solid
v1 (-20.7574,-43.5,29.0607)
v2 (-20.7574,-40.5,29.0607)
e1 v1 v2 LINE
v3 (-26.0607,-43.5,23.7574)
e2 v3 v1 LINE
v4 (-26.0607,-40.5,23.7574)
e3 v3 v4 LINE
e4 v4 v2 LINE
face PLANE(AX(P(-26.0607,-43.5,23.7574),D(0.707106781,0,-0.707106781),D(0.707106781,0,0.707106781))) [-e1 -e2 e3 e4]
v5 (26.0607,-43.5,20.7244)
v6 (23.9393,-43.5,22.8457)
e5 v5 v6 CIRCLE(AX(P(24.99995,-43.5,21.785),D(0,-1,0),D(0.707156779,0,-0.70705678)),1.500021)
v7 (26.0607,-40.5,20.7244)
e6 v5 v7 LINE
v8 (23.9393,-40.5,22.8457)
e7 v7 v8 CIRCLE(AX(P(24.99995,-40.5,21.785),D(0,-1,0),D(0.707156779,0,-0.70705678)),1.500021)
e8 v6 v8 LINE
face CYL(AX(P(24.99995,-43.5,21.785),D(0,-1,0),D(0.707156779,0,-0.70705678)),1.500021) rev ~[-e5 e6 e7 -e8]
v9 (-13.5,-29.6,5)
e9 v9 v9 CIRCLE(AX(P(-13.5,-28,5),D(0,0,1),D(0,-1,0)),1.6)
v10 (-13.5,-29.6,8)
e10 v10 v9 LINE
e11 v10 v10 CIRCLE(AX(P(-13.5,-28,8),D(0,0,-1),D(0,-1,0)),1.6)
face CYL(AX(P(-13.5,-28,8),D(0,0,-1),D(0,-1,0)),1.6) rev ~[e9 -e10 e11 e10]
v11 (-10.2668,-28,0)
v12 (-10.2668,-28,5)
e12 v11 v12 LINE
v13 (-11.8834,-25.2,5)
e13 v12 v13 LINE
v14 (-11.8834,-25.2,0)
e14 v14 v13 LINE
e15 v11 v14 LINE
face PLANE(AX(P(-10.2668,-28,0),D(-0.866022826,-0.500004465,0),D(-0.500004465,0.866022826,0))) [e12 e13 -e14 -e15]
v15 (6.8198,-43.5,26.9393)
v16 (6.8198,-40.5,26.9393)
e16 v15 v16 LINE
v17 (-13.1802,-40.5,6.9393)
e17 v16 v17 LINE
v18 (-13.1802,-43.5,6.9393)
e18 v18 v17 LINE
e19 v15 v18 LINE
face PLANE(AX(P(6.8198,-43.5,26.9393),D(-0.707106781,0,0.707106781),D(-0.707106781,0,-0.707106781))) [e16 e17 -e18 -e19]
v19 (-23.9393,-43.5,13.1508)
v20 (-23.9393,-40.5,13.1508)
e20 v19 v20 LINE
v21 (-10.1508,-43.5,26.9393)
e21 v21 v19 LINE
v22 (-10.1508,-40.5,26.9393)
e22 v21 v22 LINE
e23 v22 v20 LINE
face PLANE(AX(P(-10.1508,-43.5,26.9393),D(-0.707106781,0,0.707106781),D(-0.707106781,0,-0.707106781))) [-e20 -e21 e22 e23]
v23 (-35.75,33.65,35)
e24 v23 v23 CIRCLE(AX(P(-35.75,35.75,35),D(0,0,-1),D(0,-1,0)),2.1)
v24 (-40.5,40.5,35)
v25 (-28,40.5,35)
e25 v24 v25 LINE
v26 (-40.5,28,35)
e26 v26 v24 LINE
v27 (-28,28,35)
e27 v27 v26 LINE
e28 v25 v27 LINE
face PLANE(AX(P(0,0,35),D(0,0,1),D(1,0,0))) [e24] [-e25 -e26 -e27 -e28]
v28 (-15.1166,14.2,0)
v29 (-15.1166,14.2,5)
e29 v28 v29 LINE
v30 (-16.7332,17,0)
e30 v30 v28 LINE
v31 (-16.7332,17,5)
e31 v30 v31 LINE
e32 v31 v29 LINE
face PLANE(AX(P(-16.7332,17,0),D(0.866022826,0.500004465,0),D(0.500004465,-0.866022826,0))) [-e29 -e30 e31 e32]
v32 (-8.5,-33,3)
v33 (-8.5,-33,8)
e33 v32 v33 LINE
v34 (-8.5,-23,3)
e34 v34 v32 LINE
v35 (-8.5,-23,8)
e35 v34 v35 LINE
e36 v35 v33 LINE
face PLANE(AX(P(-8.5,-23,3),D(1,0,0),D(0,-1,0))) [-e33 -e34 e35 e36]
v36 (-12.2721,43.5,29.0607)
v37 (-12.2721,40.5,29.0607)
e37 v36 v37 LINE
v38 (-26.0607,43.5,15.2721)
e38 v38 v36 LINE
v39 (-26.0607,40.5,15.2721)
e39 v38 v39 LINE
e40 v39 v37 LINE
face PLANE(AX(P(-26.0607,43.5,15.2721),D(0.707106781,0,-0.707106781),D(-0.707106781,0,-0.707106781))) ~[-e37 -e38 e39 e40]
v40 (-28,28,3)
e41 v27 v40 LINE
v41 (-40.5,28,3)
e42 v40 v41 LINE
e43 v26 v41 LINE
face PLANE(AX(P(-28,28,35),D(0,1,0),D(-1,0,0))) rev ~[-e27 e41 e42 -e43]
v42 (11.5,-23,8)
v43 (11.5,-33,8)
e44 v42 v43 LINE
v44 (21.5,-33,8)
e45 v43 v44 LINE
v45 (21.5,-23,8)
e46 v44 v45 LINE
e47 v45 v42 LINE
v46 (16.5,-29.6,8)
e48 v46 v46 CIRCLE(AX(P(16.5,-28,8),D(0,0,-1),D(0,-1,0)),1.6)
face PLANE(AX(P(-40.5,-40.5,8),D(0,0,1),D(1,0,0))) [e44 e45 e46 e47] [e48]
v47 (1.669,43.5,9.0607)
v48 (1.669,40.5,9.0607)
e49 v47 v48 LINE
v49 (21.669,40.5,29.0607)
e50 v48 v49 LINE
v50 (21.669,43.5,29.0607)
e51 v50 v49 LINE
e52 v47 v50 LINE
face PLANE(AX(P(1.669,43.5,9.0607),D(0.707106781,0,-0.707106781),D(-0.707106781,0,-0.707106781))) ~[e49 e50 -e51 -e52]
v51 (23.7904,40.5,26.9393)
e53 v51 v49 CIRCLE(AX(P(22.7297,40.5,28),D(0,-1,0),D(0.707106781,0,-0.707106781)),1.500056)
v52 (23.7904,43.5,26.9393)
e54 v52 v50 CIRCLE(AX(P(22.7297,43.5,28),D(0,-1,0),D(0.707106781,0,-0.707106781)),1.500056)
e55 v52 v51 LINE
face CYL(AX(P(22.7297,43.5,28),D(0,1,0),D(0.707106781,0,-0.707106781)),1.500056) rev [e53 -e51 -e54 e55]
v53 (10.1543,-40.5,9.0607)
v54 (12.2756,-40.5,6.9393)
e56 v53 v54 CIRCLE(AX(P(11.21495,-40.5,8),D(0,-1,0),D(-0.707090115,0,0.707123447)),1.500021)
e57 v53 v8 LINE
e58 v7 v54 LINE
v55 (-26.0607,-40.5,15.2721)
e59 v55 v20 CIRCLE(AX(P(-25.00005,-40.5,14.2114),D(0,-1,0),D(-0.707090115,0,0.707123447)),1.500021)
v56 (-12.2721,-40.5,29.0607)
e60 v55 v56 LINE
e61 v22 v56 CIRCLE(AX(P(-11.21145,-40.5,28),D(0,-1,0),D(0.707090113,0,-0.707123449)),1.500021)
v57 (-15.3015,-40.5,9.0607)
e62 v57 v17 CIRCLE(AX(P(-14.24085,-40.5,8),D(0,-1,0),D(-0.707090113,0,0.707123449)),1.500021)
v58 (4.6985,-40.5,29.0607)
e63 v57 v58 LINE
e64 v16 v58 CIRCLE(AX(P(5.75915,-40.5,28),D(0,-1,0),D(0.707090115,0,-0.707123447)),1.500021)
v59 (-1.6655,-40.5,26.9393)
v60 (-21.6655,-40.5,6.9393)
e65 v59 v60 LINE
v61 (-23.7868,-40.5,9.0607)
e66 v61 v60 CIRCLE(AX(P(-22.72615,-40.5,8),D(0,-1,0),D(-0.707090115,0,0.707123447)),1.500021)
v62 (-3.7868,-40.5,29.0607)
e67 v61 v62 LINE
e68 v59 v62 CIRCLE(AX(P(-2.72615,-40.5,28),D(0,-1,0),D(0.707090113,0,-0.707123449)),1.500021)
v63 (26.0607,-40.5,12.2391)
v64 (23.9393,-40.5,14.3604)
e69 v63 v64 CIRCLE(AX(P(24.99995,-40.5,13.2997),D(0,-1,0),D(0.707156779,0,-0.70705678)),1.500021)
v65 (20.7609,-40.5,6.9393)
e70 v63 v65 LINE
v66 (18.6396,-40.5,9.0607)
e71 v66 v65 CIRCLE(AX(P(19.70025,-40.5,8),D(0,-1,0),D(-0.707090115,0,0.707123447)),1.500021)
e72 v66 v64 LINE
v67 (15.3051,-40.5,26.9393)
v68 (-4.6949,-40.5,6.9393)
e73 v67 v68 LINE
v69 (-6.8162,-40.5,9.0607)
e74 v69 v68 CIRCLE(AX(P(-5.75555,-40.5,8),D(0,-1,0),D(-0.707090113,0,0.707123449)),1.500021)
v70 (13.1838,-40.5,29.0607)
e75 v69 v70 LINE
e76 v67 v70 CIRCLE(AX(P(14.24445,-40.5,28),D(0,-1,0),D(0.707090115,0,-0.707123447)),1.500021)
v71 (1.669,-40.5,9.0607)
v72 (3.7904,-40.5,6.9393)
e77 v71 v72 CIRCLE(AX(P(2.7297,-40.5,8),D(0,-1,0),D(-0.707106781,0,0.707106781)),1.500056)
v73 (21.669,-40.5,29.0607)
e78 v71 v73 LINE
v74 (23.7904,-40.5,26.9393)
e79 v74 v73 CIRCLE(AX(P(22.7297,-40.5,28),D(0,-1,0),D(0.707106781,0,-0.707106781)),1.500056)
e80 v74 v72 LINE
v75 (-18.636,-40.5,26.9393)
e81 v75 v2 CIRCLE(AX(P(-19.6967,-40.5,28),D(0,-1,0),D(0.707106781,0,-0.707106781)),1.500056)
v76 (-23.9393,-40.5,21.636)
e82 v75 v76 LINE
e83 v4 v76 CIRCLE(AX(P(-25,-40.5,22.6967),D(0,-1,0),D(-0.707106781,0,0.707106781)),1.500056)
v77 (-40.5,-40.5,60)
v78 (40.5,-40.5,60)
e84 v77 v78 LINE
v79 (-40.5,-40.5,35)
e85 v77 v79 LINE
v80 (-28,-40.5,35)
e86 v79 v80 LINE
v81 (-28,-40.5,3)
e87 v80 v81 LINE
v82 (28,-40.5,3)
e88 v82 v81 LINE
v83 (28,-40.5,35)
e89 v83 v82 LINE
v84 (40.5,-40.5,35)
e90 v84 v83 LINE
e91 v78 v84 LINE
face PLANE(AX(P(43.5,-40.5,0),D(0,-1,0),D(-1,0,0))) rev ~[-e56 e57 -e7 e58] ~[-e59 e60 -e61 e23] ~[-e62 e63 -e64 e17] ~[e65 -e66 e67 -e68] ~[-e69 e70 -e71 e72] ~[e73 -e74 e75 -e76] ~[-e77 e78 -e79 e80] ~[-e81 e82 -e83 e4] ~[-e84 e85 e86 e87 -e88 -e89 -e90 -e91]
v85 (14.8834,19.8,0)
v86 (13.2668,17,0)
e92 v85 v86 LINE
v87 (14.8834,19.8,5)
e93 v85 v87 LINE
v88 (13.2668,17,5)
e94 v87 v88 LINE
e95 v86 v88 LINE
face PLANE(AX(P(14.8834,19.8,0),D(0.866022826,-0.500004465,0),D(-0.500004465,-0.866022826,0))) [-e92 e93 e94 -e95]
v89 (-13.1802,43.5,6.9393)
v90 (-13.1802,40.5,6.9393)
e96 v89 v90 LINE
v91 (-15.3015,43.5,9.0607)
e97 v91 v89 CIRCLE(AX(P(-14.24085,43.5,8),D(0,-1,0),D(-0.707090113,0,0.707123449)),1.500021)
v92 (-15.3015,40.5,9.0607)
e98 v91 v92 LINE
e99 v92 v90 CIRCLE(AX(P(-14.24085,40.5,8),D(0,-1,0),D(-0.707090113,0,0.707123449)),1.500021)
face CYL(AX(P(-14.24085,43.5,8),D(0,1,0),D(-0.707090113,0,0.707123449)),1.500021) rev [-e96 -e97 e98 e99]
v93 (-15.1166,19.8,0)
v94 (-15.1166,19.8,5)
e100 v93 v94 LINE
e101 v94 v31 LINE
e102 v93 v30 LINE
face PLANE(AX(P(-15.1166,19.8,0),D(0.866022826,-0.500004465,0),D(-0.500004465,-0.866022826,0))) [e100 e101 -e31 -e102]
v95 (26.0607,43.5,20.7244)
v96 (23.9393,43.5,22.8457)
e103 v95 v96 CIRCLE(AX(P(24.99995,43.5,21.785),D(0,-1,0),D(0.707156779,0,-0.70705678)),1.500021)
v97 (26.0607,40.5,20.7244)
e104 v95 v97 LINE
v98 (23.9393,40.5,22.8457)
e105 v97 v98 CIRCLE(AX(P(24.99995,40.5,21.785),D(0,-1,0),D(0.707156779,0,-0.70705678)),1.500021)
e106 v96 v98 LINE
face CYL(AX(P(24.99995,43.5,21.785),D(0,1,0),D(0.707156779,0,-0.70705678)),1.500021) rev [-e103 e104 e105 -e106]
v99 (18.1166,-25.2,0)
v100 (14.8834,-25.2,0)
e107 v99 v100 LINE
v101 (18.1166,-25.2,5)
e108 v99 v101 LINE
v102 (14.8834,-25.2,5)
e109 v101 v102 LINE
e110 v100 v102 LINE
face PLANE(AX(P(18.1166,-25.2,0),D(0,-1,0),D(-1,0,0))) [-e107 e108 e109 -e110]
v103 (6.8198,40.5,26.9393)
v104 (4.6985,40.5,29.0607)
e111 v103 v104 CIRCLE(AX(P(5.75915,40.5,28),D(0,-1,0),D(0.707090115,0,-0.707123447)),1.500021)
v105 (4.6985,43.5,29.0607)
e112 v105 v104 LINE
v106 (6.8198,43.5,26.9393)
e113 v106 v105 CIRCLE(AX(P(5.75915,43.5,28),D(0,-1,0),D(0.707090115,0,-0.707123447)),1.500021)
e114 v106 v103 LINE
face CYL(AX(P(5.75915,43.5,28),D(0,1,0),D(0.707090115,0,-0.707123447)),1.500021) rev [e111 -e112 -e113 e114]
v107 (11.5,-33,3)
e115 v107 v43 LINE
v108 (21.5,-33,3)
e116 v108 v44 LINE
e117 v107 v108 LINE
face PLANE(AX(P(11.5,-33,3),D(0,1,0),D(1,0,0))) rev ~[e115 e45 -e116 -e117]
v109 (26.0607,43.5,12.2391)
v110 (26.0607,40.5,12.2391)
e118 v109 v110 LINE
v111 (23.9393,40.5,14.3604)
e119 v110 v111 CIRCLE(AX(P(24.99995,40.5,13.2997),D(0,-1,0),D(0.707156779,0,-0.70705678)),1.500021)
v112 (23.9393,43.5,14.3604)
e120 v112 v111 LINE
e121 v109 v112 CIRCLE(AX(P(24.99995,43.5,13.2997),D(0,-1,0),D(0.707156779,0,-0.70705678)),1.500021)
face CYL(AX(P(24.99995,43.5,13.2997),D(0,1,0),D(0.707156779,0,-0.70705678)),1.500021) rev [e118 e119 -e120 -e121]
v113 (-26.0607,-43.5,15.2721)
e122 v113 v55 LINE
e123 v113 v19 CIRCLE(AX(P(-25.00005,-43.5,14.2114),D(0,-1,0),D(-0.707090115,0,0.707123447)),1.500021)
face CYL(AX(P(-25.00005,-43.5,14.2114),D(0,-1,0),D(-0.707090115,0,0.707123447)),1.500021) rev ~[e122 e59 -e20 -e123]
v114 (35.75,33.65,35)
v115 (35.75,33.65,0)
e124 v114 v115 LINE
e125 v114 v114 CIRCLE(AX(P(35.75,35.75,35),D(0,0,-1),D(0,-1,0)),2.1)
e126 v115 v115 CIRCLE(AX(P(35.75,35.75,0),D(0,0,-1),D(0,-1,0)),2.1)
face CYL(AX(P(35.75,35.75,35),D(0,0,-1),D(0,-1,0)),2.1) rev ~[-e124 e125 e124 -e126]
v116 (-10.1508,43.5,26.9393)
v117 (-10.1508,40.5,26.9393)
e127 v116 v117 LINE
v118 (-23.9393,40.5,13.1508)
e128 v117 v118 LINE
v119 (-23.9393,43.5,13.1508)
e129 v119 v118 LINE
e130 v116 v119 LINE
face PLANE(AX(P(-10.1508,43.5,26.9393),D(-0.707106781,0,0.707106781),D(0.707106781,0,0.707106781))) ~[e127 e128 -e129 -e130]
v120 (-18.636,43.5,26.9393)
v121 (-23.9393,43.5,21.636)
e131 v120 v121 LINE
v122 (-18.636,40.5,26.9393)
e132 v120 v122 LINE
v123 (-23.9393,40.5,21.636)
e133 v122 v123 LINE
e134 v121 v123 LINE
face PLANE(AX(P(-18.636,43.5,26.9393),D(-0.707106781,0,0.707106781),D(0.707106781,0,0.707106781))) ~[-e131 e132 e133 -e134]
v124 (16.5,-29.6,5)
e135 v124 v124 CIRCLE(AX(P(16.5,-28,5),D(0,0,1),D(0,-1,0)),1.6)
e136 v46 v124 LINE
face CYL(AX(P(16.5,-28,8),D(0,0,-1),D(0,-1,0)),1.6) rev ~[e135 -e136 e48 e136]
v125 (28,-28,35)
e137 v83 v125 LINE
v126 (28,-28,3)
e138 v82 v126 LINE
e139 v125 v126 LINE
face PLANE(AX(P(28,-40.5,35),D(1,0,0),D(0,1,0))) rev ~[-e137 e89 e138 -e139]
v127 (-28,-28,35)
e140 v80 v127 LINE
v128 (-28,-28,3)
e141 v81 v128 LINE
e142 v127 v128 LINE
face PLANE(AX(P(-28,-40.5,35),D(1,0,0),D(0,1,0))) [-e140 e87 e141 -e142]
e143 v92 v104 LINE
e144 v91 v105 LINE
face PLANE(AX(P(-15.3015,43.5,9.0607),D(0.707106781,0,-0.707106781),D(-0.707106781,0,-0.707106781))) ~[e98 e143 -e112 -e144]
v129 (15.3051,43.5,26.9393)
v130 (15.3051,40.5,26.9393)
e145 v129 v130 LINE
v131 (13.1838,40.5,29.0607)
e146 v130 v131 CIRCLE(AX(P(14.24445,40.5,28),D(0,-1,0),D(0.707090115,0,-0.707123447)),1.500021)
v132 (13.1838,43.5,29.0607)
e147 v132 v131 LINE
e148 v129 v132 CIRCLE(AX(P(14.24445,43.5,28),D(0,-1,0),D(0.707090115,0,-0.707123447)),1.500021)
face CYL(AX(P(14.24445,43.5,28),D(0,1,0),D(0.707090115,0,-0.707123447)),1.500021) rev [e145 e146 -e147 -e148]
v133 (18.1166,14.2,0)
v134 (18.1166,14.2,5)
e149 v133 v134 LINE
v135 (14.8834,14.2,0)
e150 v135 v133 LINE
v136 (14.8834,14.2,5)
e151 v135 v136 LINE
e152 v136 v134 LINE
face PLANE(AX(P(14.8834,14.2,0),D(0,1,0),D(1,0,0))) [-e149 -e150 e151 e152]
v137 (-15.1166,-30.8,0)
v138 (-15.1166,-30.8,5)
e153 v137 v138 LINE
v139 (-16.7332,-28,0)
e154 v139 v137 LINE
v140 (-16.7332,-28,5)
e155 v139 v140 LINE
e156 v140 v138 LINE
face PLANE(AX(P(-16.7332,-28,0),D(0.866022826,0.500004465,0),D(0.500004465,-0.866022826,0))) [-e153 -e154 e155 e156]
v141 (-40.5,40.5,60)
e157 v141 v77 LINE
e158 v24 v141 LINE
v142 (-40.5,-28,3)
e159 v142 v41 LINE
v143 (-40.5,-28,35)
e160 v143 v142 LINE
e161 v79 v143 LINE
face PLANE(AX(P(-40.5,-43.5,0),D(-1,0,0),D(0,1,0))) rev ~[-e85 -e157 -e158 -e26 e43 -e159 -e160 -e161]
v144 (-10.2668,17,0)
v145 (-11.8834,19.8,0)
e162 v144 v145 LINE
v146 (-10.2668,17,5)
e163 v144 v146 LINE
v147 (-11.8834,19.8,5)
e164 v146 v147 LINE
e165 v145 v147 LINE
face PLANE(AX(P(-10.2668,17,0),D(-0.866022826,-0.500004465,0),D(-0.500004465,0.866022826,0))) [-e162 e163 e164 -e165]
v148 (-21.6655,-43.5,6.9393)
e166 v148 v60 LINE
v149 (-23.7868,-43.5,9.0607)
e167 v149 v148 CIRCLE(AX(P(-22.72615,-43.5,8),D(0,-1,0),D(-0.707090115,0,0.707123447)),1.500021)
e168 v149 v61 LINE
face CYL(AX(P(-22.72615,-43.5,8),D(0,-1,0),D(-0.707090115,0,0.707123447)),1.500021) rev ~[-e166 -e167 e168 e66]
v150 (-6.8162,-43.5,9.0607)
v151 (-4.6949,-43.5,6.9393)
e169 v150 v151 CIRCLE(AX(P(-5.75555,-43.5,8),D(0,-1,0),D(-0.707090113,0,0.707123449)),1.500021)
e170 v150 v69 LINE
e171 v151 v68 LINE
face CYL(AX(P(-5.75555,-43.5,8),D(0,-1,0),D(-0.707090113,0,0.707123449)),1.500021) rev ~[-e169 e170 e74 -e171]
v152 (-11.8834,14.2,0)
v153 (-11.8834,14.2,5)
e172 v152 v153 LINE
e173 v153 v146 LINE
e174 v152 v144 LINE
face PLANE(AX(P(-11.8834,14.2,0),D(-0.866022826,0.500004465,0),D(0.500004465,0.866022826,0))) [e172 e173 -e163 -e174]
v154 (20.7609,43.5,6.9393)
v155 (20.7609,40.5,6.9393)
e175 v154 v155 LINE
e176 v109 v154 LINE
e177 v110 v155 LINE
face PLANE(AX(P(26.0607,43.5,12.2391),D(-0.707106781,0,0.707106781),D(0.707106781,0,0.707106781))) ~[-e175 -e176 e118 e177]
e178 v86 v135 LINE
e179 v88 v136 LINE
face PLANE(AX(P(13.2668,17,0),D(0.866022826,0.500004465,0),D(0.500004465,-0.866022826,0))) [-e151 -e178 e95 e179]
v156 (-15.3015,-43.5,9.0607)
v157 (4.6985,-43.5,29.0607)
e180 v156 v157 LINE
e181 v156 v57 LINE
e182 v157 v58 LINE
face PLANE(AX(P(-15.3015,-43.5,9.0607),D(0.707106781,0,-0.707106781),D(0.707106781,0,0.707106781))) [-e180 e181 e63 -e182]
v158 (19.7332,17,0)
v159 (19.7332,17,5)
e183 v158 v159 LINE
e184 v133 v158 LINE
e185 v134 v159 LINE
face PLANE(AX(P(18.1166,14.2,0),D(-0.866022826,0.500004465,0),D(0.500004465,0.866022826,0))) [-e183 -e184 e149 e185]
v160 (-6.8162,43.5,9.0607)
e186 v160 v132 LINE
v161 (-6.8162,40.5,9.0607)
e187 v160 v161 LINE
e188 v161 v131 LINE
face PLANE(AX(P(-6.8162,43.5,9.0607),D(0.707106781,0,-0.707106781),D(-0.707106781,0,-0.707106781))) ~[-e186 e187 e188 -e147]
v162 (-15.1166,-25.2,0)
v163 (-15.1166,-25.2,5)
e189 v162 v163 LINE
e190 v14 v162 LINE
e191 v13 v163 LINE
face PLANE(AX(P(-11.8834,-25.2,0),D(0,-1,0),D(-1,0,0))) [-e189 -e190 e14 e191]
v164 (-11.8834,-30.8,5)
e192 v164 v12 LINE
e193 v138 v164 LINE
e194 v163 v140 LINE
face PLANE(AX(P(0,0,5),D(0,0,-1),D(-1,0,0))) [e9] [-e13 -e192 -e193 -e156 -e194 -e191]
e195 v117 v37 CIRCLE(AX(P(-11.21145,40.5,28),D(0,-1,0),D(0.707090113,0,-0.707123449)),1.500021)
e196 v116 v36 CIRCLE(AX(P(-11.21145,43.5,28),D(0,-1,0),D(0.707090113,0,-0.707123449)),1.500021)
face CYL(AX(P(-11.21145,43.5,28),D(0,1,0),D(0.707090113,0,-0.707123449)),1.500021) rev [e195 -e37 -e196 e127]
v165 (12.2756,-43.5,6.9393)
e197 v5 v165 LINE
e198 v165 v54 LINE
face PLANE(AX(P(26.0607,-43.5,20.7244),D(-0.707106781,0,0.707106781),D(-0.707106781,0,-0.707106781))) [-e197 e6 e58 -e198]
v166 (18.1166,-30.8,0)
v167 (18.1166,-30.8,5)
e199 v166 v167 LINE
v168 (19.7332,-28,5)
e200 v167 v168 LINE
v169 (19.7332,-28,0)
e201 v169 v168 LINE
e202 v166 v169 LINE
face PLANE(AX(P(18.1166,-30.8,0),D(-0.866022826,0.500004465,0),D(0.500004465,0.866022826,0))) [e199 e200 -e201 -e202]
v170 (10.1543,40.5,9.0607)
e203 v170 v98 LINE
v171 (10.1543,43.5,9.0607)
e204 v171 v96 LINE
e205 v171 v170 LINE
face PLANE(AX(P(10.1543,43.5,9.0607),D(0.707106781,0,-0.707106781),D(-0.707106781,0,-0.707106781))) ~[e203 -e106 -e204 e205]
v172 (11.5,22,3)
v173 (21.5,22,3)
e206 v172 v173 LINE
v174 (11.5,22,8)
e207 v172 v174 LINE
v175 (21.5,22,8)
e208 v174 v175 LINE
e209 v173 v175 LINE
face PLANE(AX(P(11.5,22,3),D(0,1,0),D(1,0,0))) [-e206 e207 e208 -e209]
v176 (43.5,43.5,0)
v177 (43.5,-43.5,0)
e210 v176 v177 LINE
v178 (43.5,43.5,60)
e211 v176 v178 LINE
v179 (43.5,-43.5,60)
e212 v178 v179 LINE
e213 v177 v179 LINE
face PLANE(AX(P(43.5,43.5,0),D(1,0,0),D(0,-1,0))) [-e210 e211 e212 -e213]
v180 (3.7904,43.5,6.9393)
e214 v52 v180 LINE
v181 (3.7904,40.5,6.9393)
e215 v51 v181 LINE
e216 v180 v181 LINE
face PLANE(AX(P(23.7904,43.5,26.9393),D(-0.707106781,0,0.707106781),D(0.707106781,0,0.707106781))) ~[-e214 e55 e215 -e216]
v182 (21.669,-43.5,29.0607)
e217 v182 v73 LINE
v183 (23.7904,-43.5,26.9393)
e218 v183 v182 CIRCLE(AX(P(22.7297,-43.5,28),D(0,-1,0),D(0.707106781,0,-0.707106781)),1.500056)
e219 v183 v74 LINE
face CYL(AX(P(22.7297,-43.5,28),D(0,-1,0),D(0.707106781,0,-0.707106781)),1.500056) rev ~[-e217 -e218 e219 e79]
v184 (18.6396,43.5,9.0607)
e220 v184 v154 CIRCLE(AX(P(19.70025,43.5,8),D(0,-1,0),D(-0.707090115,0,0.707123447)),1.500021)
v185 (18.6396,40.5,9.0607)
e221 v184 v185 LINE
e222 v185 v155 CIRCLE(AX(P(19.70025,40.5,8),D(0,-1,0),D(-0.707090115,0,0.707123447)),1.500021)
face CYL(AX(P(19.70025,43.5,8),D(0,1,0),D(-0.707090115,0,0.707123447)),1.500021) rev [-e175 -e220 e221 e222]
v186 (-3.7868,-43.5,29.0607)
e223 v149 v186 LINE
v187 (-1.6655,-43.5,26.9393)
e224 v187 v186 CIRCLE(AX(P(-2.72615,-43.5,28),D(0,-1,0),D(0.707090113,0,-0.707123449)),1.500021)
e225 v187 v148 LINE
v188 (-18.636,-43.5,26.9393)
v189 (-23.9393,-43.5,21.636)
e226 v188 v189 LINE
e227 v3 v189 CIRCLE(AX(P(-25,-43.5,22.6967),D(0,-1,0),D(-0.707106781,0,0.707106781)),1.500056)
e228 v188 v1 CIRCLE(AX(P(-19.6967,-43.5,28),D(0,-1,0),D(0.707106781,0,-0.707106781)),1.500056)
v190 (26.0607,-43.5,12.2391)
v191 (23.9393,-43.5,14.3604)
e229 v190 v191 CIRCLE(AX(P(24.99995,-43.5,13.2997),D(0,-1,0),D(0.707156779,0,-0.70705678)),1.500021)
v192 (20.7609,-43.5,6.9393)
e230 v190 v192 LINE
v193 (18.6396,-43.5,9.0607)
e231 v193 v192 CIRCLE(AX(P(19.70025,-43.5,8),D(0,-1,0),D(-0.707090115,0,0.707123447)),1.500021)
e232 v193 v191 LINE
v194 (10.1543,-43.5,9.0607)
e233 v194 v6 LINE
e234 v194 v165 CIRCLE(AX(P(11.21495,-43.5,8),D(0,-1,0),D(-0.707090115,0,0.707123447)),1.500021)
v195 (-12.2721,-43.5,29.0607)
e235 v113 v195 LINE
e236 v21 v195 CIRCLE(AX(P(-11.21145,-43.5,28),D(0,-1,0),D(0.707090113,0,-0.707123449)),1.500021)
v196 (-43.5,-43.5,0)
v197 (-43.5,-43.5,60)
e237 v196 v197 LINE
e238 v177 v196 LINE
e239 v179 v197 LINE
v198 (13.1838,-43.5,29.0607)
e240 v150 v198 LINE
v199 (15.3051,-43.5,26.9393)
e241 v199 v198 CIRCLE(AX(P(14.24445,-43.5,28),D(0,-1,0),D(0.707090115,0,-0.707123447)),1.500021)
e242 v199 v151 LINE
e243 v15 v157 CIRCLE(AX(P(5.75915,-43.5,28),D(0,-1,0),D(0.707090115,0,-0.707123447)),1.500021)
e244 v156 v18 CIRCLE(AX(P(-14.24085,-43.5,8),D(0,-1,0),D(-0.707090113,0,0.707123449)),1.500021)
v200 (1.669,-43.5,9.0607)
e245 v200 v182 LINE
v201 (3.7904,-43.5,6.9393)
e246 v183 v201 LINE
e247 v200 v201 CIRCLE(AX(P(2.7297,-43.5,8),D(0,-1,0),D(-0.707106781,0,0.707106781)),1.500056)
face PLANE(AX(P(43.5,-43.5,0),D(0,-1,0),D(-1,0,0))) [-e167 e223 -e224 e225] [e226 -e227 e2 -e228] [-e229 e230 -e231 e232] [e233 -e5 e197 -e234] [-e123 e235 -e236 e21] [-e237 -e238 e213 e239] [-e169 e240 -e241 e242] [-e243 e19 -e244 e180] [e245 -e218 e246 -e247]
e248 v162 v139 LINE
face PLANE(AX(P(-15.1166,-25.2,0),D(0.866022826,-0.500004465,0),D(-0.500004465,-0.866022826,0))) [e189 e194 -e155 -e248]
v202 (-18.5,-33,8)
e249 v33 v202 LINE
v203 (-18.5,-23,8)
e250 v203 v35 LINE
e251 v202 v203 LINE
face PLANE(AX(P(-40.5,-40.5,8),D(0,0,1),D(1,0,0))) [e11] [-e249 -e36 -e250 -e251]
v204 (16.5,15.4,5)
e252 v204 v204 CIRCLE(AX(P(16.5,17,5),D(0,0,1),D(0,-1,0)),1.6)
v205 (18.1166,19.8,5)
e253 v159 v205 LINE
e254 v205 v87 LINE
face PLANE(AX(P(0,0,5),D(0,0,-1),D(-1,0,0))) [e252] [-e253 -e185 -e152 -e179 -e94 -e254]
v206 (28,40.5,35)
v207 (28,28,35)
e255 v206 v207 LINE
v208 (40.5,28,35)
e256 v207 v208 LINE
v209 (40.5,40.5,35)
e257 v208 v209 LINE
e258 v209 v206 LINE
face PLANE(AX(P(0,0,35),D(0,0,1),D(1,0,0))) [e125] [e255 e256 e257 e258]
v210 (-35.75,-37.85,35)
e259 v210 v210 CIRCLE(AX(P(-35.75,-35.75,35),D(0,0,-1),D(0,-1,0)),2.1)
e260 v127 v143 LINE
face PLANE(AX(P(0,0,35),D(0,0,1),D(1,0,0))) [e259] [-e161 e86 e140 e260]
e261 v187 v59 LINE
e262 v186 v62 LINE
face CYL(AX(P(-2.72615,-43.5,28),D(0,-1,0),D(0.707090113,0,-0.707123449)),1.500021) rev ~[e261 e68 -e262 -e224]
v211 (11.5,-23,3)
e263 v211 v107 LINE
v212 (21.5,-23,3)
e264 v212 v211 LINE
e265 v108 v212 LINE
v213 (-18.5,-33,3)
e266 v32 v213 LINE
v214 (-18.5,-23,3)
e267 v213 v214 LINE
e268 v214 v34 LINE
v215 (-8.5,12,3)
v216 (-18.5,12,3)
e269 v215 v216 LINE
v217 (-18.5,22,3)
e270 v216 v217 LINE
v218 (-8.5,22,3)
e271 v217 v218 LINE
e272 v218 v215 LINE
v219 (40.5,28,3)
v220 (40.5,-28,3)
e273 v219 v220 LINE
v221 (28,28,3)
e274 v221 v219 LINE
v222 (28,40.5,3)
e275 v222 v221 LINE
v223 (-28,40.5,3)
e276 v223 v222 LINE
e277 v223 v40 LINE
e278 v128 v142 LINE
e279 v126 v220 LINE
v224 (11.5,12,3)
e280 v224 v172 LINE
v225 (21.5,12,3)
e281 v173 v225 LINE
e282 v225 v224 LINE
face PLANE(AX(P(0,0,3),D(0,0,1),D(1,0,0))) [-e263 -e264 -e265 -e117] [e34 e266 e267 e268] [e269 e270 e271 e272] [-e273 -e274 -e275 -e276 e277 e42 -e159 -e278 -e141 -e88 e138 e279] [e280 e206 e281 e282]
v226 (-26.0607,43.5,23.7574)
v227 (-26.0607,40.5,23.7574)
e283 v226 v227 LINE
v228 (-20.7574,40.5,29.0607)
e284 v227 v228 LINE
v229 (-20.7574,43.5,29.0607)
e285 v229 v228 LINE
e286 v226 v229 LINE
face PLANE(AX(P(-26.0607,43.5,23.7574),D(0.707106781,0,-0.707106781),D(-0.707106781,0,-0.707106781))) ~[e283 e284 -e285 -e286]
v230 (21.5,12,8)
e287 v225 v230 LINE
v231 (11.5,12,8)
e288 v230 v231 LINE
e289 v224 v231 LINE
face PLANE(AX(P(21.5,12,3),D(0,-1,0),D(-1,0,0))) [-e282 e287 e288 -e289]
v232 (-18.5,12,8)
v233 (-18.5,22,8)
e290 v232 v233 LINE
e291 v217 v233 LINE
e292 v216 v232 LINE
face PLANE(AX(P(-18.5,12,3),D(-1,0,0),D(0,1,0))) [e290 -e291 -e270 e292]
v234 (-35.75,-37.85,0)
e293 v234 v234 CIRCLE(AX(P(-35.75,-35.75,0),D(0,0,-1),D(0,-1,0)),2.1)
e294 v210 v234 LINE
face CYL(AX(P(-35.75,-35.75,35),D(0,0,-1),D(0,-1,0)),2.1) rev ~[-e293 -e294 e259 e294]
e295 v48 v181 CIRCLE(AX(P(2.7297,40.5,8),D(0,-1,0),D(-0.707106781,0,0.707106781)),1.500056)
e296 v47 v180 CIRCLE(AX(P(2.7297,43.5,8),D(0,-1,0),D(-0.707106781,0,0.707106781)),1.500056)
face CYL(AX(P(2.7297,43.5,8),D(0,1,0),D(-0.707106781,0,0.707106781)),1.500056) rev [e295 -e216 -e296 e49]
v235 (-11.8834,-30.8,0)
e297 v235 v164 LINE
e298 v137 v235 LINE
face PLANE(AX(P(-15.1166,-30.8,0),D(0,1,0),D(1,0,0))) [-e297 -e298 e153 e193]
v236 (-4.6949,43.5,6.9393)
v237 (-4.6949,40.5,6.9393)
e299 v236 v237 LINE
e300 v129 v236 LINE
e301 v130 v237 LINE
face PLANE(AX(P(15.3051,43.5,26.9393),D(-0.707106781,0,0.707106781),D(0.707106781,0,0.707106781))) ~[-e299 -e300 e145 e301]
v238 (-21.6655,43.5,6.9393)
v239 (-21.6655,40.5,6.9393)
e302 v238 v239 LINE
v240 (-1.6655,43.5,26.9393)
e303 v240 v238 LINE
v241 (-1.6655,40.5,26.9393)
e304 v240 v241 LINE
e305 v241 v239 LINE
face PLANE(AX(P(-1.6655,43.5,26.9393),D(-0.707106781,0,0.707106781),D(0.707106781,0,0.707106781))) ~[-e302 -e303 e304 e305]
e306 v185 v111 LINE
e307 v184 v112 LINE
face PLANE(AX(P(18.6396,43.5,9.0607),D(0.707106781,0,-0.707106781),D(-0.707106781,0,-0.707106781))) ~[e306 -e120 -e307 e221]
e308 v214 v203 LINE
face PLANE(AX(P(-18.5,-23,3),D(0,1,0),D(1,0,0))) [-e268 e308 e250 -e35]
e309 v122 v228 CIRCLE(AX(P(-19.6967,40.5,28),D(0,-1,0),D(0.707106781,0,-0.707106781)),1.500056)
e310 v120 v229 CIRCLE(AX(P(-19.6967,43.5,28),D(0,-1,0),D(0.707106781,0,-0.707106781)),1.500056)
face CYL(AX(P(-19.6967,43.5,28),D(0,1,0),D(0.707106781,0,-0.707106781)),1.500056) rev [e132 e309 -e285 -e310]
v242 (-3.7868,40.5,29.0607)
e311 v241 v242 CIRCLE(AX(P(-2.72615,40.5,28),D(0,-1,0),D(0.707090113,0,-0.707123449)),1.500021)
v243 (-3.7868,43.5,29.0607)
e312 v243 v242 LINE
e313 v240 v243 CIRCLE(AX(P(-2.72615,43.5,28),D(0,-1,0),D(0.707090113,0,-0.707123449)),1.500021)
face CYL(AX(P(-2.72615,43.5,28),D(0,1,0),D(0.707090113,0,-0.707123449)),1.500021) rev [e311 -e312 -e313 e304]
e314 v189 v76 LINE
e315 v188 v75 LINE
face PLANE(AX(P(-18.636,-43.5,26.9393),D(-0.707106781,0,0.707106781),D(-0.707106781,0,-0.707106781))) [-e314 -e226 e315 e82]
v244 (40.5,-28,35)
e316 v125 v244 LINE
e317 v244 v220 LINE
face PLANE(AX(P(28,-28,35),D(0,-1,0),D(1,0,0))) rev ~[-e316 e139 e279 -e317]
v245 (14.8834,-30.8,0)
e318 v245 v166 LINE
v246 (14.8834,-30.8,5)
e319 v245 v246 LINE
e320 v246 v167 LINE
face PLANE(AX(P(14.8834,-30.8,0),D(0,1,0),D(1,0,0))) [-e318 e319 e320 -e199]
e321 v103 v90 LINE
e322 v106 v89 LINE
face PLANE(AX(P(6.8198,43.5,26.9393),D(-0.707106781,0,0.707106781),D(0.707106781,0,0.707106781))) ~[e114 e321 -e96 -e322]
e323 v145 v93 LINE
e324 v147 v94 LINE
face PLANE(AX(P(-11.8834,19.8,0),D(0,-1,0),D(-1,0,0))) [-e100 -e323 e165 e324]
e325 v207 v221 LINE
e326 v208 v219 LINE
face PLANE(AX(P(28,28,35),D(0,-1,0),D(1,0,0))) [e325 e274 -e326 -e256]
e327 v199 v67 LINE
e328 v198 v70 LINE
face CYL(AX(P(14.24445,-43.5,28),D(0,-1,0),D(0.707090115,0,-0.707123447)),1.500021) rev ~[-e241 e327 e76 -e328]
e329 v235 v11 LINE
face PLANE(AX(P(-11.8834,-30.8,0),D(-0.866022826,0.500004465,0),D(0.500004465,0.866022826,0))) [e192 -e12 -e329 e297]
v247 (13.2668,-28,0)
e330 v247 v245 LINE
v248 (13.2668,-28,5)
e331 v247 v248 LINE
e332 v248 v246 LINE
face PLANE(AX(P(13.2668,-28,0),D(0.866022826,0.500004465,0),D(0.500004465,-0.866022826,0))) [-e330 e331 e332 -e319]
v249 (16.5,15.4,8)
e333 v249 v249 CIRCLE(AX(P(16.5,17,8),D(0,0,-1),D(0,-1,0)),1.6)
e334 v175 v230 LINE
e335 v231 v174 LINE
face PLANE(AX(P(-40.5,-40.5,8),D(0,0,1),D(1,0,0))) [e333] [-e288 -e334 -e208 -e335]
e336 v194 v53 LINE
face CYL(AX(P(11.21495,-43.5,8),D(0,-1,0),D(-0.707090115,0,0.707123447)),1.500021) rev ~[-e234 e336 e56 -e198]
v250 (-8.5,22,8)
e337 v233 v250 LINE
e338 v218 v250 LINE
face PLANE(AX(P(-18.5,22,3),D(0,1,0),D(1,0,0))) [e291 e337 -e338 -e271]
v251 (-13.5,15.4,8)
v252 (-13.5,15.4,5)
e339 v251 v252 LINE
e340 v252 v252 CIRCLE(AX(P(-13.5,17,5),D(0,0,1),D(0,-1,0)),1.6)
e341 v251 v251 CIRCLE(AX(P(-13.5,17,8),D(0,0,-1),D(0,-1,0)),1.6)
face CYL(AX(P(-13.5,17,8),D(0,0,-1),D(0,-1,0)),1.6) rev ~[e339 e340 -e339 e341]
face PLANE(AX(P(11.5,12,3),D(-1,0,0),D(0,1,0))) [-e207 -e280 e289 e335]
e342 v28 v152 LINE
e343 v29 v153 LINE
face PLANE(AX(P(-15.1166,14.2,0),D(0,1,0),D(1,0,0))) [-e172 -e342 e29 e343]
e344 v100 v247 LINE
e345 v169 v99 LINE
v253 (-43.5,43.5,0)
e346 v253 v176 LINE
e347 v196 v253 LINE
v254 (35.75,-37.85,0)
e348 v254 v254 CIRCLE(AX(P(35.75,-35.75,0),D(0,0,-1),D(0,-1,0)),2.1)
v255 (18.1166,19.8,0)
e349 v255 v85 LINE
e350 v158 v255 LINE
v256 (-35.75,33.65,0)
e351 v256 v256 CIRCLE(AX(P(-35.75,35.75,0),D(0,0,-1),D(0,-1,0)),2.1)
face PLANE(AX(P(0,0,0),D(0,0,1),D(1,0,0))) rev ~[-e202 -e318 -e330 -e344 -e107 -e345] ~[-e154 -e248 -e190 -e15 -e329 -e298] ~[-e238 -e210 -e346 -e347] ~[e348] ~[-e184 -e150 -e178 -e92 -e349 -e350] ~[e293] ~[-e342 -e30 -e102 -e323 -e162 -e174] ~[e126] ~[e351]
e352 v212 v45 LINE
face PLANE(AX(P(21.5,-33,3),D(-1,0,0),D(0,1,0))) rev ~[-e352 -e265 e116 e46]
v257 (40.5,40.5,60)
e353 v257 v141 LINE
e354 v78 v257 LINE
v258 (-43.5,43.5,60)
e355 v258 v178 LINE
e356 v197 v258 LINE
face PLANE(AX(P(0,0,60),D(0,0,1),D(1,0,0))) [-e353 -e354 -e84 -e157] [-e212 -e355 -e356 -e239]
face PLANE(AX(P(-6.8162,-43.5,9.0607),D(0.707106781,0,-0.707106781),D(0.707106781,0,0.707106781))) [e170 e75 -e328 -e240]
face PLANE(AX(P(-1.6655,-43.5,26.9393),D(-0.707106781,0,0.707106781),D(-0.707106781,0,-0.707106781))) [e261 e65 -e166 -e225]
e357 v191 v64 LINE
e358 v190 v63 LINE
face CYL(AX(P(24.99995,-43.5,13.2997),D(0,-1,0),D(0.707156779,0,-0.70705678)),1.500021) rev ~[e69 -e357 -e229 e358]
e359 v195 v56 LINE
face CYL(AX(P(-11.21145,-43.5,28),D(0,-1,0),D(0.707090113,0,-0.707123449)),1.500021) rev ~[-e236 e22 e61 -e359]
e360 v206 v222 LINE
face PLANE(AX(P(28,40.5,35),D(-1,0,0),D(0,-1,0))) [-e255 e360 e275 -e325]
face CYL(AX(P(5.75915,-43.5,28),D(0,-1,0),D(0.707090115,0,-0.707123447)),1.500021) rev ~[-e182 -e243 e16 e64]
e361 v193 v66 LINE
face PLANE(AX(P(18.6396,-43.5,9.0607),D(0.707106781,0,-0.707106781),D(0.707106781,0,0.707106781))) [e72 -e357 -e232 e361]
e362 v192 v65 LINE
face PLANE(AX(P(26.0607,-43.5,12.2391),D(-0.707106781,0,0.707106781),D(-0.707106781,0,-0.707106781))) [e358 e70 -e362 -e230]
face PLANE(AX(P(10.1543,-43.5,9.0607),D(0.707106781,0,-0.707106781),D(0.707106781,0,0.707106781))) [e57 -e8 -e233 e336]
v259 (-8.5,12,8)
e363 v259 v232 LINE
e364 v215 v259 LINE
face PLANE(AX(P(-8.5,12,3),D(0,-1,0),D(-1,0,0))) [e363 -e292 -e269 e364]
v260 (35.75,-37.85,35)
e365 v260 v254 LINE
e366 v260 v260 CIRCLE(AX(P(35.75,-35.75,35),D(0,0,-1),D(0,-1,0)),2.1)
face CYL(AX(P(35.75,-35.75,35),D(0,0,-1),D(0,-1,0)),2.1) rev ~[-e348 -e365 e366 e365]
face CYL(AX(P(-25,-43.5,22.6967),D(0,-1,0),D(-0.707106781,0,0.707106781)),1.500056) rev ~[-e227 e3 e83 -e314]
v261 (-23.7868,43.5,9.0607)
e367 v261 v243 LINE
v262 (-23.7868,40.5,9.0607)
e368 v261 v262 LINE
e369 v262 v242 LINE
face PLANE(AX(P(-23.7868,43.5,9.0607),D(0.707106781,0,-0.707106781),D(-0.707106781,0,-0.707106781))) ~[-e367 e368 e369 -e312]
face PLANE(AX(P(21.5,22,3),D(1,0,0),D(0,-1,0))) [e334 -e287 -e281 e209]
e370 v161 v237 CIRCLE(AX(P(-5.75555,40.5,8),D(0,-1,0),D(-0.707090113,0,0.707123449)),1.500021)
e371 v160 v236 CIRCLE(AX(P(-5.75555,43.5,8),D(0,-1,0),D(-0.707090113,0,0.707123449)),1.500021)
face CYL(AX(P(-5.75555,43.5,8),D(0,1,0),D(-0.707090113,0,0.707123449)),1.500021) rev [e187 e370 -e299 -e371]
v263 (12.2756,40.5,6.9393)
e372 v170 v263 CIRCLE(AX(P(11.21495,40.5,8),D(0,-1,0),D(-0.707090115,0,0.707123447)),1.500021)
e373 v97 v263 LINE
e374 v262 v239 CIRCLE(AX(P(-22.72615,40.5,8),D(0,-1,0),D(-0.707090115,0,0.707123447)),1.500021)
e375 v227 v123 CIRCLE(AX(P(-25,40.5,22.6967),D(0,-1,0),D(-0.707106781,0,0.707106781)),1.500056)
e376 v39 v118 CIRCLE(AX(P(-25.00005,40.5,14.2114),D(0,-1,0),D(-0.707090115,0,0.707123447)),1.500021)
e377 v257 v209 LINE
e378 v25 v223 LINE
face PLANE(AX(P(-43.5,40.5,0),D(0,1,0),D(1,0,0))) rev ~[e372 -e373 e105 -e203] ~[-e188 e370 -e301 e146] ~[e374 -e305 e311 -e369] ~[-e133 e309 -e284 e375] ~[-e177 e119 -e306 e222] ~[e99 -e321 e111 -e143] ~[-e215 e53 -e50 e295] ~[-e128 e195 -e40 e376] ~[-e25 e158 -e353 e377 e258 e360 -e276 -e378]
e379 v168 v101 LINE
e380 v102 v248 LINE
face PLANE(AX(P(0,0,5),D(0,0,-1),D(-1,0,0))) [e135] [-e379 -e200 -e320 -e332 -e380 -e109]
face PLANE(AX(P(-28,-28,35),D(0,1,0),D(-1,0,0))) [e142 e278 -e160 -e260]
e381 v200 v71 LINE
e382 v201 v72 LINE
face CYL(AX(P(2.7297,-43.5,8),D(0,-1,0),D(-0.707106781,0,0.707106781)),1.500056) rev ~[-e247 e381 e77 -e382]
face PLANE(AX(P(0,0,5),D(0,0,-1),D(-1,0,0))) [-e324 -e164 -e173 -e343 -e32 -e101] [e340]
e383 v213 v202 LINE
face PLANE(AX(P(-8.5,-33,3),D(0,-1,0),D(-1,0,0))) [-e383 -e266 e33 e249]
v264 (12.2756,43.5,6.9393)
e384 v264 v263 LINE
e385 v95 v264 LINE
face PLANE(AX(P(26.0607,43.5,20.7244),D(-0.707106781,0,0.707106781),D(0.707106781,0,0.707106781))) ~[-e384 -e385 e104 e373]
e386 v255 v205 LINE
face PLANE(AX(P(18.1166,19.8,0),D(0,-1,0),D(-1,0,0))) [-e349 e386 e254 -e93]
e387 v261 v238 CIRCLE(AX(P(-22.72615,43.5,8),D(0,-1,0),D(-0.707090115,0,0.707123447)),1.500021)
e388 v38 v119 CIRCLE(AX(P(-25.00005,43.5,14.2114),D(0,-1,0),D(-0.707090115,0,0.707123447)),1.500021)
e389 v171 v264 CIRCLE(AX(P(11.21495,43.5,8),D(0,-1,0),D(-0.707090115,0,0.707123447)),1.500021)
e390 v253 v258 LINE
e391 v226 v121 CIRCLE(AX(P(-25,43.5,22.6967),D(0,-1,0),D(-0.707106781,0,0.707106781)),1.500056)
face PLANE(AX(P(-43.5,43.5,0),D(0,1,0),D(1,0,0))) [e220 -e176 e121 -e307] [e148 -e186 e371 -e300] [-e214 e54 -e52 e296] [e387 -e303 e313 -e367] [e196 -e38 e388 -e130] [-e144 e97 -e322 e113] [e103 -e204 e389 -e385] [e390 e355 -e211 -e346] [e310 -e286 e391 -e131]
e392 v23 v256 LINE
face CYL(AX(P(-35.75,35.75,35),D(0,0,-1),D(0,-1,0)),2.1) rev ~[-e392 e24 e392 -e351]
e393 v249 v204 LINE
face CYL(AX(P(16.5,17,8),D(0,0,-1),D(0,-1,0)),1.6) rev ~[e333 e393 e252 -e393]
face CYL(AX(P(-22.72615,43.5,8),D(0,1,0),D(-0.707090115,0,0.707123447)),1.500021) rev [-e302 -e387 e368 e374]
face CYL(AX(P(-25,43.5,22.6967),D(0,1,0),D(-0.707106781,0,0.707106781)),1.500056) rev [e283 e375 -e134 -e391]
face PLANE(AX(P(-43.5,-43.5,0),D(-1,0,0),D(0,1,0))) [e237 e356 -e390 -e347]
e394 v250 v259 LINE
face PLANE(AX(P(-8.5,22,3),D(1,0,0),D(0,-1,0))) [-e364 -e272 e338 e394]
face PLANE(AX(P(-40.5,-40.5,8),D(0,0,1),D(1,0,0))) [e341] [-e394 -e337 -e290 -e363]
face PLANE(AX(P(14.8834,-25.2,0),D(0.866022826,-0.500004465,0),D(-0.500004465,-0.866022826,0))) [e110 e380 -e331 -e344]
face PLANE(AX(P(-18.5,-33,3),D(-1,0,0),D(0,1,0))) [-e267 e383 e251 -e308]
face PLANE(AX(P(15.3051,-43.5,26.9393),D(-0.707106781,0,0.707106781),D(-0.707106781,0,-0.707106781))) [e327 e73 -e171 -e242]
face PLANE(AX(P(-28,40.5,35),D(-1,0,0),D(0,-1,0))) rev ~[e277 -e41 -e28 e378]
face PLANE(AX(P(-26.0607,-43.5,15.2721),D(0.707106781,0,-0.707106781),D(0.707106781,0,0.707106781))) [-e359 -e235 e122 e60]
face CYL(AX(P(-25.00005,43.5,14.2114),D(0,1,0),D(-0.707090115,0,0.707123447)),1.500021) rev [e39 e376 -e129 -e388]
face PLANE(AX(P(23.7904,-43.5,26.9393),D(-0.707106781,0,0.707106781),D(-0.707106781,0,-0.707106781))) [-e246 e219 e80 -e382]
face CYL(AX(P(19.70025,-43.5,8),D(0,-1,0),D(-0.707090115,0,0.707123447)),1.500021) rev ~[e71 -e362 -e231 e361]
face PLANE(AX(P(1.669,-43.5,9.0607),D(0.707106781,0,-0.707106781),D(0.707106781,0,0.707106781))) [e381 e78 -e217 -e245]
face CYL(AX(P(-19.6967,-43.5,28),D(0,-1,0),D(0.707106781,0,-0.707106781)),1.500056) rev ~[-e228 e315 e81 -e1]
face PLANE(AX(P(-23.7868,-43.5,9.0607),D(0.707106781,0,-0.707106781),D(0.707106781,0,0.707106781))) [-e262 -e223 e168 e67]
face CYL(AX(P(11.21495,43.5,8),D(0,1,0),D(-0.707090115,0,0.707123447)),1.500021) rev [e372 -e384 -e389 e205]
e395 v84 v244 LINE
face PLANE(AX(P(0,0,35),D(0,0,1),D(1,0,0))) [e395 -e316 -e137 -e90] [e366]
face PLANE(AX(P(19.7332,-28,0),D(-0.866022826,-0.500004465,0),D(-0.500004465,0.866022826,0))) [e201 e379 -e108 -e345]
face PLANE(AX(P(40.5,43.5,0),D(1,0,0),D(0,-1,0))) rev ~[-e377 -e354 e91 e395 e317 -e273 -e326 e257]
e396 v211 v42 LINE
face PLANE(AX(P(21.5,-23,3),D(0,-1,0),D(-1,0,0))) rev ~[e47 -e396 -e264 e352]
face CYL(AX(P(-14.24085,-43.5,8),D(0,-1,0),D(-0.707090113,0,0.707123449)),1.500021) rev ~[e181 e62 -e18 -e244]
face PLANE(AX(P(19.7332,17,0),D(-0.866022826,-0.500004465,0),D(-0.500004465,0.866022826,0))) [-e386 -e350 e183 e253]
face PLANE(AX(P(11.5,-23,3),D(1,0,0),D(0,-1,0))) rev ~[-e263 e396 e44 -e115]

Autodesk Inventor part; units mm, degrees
ref_plane "YZ Plane" through (0, 0, 0) normal (1, 0, 0) x (0, 1, 0)
sketch "Sketch1" plane through (0, 0, 0) normal (0, 0, 1) x (1, 0, 0)
  line L0 (-43.5, 43.5) -> (43.5, 43.5)
  line L1 (43.5, 43.5) -> (43.5, -43.5)
  line L2 (43.5, -43.5) -> (-43.5, -43.5)
  line L3 (-43.5, -43.5) -> (-43.5, 43.5)
  line L4 (-43.5, 43.5) -> (43.5, -43.5) construction
  line L5 (43.5, 43.5) -> (-43.5, -43.5) construction
  point P0 (0, 0)
  dimension "d0" = 87
  dimension "d1" = 87
extrude "Extrusion1" add sketch "Sketch1" along normal blind 60
shell "Shell1" thickness 3 removed faces 1 at (-14.5, 14.5, 60)
sketch "Sketch2" plane through (-40.5, -40.5, 3) normal (0, 0, 1) x (1, 0, 0)
  line L0 (22, 62.5) -> (32, 62.5)
  line L1 (32, 62.5) -> (32, 52.5)
  line L2 (32, 52.5) -> (22, 52.5)
  line L3 (22, 52.5) -> (22, 62.5)
  line L4 (22, 62.5) -> (32, 52.5) construction
  line L5 (32, 62.5) -> (22, 52.5) construction
  line L6 (52, 62.5) -> (62, 62.5)
  line L7 (62, 62.5) -> (62, 52.5)
  line L8 (62, 52.5) -> (52, 52.5)
  line L9 (52, 52.5) -> (52, 62.5)
  line L10 (52, 62.5) -> (62, 52.5) construction
  line L11 (62, 62.5) -> (52, 52.5) construction
  line L12 (22, 17.5) -> (32, 17.5)
  line L13 (32, 17.5) -> (32, 7.5)
  line L14 (32, 7.5) -> (22, 7.5)
  line L15 (22, 7.5) -> (22, 17.5)
  line L16 (22, 17.5) -> (32, 7.5) construction
  line L17 (32, 17.5) -> (22, 7.5) construction
  line L18 (62, 17.5) -> (52, 17.5)
  line L19 (52, 17.5) -> (52, 7.5)
  line L20 (52, 7.5) -> (62, 7.5)
  line L21 (62, 7.5) -> (62, 17.5)
  line L22 (62, 17.5) -> (52, 7.5) construction
  line L23 (52, 17.5) -> (62, 7.5) construction
  line L24 (27, 57.5) -> (57, 57.5) construction
  line L25 (57, 12.5) -> (27, 12.5) construction
  line L26 (27, 57.5) -> (27, 12.5) construction
  line L27 (57, 12.5) -> (57, 57.5) construction
  line L28 (0, 0) -> (0, 81) projected
  line L29 (0, 81) -> (81, 81) projected
  line L30 (-3, 84) -> (-3, -3) projected
  line L31 (81, 0) -> (0, 0) projected
  point P0 (40.5, 40.5)
  dimension "d5" = 10
  dimension "d6" = 10
  dimension "d7" = 10
  dimension "d8" = 10
  dimension "d9" = 10
  dimension "d10" = 10
  dimension "d11" = 10
  dimension "d12" = 10
  dimension "d13" = 30
  dimension "d14" = 45
  dimension "d15" = 30
  dimension "d42" = 7.5
extrude "Extrusion2" add sketch "Sketch2" along normal blind 5
sketch "Sketch3" plane through (-40.5, -40.5, 8) normal (0, 0, 1) x (1, 0, 0)
  line L0 (57, 57.5) -> (27, 57.5) construction
  line L1 (27, 57.5) -> (27, 12.5) construction
  line L2 (27, 12.5) -> (57, 12.5) construction
  line L3 (57, 12.5) -> (57, 57.5) construction
  line L4 (0, 81) -> (81, 81) projected
  line L5 (81, 81) -> (81, 0) projected
  line L6 (22, 17.5) -> (22, 7.5) projected
  line L7 (22, 7.5) -> (32, 7.5) projected
  line L8 (62, 7.5) -> (62, 17.5) projected
  point P0 (40.5, 40.5)
  dimension "d19" = 5
  dimension "d20" = 5
  dimension "d21" = 5
  dimension "d22" = 45
hole "Hole1" at (-13.5, 17, 8) at (-13.5, -28, 8) at (16.5, -28, 8) at (16.5, 17, 8) direction (0, 0, -1) diameter 3.2 end through all
sketch "Sketch4" plane through (0, 0, 0) normal (0, 0, -1) x (-1, 0, 0)
  circle A0 centre (-16.5, 17) radius 1.6 projected
  line L0 (-14.8834, 19.8) -> (-13.2668, 17)
  line L1 (-13.2668, 17) -> (-14.8834, 14.2)
  line L2 (-14.8834, 14.2) -> (-18.1166, 14.2)
  line L3 (-18.1166, 14.2) -> (-19.7332, 17)
  line L4 (-19.7332, 17) -> (-18.1166, 19.8)
  line L5 (-18.1166, 19.8) -> (-14.8834, 19.8)
  circle A1 centre (13.5, 17) radius 1.6 projected
  line L6 (15.1166, 19.8) -> (16.7332, 17)
  line L7 (16.7332, 17) -> (15.1166, 14.2)
  line L8 (15.1166, 14.2) -> (11.8834, 14.2)
  line L9 (11.8834, 14.2) -> (10.2668, 17)
  line L10 (10.2668, 17) -> (11.8834, 19.8)
  line L11 (11.8834, 19.8) -> (15.1166, 19.8)
  circle A2 centre (13.5, -28) radius 1.6 projected
  line L12 (15.1166, -25.2) -> (16.7332, -28)
  line L13 (16.7332, -28) -> (15.1166, -30.8)
  line L14 (15.1166, -30.8) -> (11.8834, -30.8)
  line L15 (11.8834, -30.8) -> (10.2668, -28)
  line L16 (10.2668, -28) -> (11.8834, -25.2)
  line L17 (11.8834, -25.2) -> (15.1166, -25.2)
  circle A3 centre (-16.5, -28) radius 1.6 projected
  line L18 (-14.8834, -25.2) -> (-13.2668, -28)
  line L19 (-13.2668, -28) -> (-14.8834, -30.8)
  line L20 (-14.8834, -30.8) -> (-18.1166, -30.8)
  line L21 (-18.1166, -30.8) -> (-19.7332, -28)
  line L22 (-19.7332, -28) -> (-18.1166, -25.2)
  line L23 (-18.1166, -25.2) -> (-14.8834, -25.2)
  line L24 (-43.5, 43.5) -> (43.5, 43.5) projected
  point P0 (0, 0)
  dimension "d30" = 5.6
  dimension "d31" = 5.6
  dimension "d32" = 5.6
extrude "Extrusion3" cut sketch "Sketch4" against normal blind 5
ref_plane "Work Plane1" through (0, 0, 35) normal (0, 0, 1) x (1, 0, 0)
sketch "Sketch6" plane through (0, 0, 35) normal (0, 0, 1) x (1, 0, 0)
  line L0 (40.5, -40.5) -> (40.5, 40.5) projected
  line L1 (40.5, -40.5) -> (28, -40.5)
  line L2 (28, -40.5) -> (28, -28)
  line L3 (28, -28) -> (40.5, -28)
  line L4 (40.5, -28) -> (40.5, -40.5)
  line L5 (-40.5, -40.5) -> (-40.5, 40.5) projected
  line L6 (-40.5, -40.5) -> (-28, -40.5)
  line L7 (-28, -40.5) -> (-28, -28)
  line L8 (-28, -28) -> (-40.5, -28)
  line L9 (-40.5, -28) -> (-40.5, -40.5)
  line L10 (40.5, 40.5) -> (28, 40.5)
  line L11 (28, 40.5) -> (28, 28)
  line L12 (28, 28) -> (40.5, 28)
  line L13 (40.5, 28) -> (40.5, 40.5)
  line L14 (-40.5, 40.5) -> (-28, 40.5)
  line L15 (-28, 40.5) -> (-28, 28)
  line L16 (-28, 28) -> (-40.5, 28)
  line L17 (-40.5, 28) -> (-40.5, 40.5)
  point P0 (0, 0)
  point P1 (40.5, 28)
  point P2 (40.5, -28)
  dimension "d44" = 12.5
  dimension "d45" = 12.5
  dimension "d46" = 12.5
  dimension "d47" = 12.5
  dimension "d48" = 12.5
  dimension "d49" = 12.5
  dimension "d50" = 12.5
  dimension "d51" = 12.5
extrude "Extrusion5" add sketch "Sketch6" against normal up to surface (32 mm away)
sketch "Sketch7" plane through (0, 0, 35) normal (0, 0, 1) x (1, 0, 0)
  line L0 (35.75, 35.75) -> (-35.75, 35.75) construction
  line L1 (-35.75, 35.75) -> (-35.75, -35.75) construction
  line L2 (-35.75, -35.75) -> (35.75, -35.75) construction
  line L3 (35.75, -35.75) -> (35.75, 35.75) construction
  line L4 (-40.5, -40.5) -> (-40.5, 40.5) projected
  line L5 (40.5, -40.5) -> (-40.5, -40.5) projected
  line L6 (40.5, 40.5) -> (40.5, -40.5) projected
  line L7 (-40.5, 40.5) -> (40.5, 40.5) projected
  point P0 (0, 0)
  dimension "d65" = 71.5
  dimension "d66" = 71.5
  dimension "d67" = 35.75
  dimension "d68" = 35.75
hole "Hole2" at (35.75, -35.75, 35) at (-35.75, -35.75, 35) at (-35.75, 35.75, 35) at (35.75, 35.75, 35) direction (0, 0, -1) diameter 4.2 end through all
sketch "Sketch8" plane through (-43.5, -43.5, 0) normal (0, -1, 0) x (1, 0, 0)
  line L0 (18.5, 28) -> (68.5, 28) construction
  line L1 (68.5, 28) -> (68.5, 8) construction
  line L2 (68.5, 8) -> (18.5, 8) construction
  line L3 (18.5, 8) -> (18.5, 28) construction
  line L4 (0, 0) -> (87, 0) projected
  line L5 (0, 0) -> (0, 60) projected
  line L6 (18.5, 22.6967) -> (23.8033, 28) construction
  line L7 (17.4393, 23.7574) -> (22.7426, 29.0607)
  line L8 (24.864, 26.9393) -> (19.5607, 21.636)
  arc A0 (17.4393, 23.7574) -> (19.5607, 21.636) centre (18.5, 22.6967) ccw
  arc A1 (24.864, 26.9393) -> (22.7426, 29.0607) centre (23.8033, 28) ccw
  line L9 (18.5, 14.2114) -> (32.2886, 28) construction
  line L10 (17.4393, 15.2721) -> (31.2279, 29.0607)
  line L11 (33.3492, 26.9393) -> (19.5607, 13.1508)
  arc A2 (17.4393, 15.2721) -> (19.5607, 13.1508) centre (18.5, 14.2114) ccw
  arc A3 (33.3492, 26.9393) -> (31.2279, 29.0607) centre (32.2886, 28) ccw
  line L12 (20.7739, 8) -> (40.7739, 28) construction
  line L13 (19.7132, 9.0607) -> (39.7132, 29.0607)
  line L14 (41.8345, 26.9393) -> (21.8345, 6.9393)
  arc A4 (19.7132, 9.0607) -> (21.8345, 6.9393) centre (20.7739, 8) ccw
  arc A5 (41.8345, 26.9393) -> (39.7132, 29.0607) centre (40.7739, 28) ccw
  line L15 (29.2591, 8) -> (49.2591, 28) construction
  line L16 (28.1985, 9.0607) -> (48.1985, 29.0607)
  line L17 (50.3198, 26.9393) -> (30.3198, 6.9393)
  arc A6 (28.1985, 9.0607) -> (30.3198, 6.9393) centre (29.2591, 8) ccw
  arc A7 (50.3198, 26.9393) -> (48.1985, 29.0607) centre (49.2591, 28) ccw
  line L18 (37.7444, 8) -> (57.7444, 28) construction
  line L19 (36.6838, 9.0607) -> (56.6838, 29.0607)
  line L20 (58.8051, 26.9393) -> (38.8051, 6.9393)
  arc A8 (36.6838, 9.0607) -> (38.8051, 6.9393) centre (37.7444, 8) ccw
  arc A9 (58.8051, 26.9393) -> (56.6838, 29.0607) centre (57.7444, 28) ccw
  line L21 (46.2297, 8) -> (66.2297, 28) construction
  line L22 (45.169, 9.0607) -> (65.169, 29.0607)
  line L23 (67.2904, 26.9393) -> (47.2904, 6.9393)
  arc A10 (45.169, 9.0607) -> (47.2904, 6.9393) centre (46.2297, 8) ccw
  arc A11 (67.2904, 26.9393) -> (65.169, 29.0607) centre (66.2297, 28) ccw
  line L24 (54.715, 8) -> (68.5, 21.785) construction
  line L25 (53.6543, 9.0607) -> (67.4393, 22.8457)
  line L26 (69.5607, 20.7244) -> (55.7756, 6.9393)
  arc A12 (53.6543, 9.0607) -> (55.7756, 6.9393) centre (54.715, 8) ccw
  arc A13 (69.5607, 20.7244) -> (67.4393, 22.8457) centre (68.5, 21.785) ccw
  line L27 (63.2003, 8) -> (68.5, 13.2997) construction
  line L28 (62.1396, 9.0607) -> (67.4393, 14.3604)
  line L29 (69.5607, 12.2391) -> (64.2609, 6.9393)
  arc A14 (62.1396, 9.0607) -> (64.2609, 6.9393) centre (63.2003, 8) ccw
  arc A15 (69.5607, 12.2391) -> (67.4393, 14.3604) centre (68.5, 13.2997) ccw
  point P0 (43.5, 0)
  point P1 (21.1517, 25.3483)
  point P2 (43.5, 0)
  dimension "d69" = 8
  dimension "d70" = 20
  dimension "d71" = 50
  dimension "d73" = 3
  dimension "d74" = 45
  dimension "d75" = 3
  dimension "d76" = 3
  dimension "d77" = 3
  dimension "d78" = 3
  dimension "d79" = 3
  dimension "d80" = 3
  dimension "d81" = 6
  dimension "d82" = 6
  dimension "d83" = 6
  dimension "d84" = 6
  dimension "d85" = 6
  dimension "d86" = 6
  dimension "d87" = 3
  dimension "d88" = 6
  dimension "d89" = 7.5
  dimension "d92" = 25
extrude "Extrusion6" cut sketch "Sketch8" against normal up to surface (3 mm away)
ref_plane "Work Plane2" through (-43.5, 0, 0) normal (0, 1, 0) x (1, 0, 0)
mirror "Mirror1" about plane through (-43.5, 0, 0) normal (0, 1, 0) of "Extrusion6"
properties part number "Temp_controller_box"
